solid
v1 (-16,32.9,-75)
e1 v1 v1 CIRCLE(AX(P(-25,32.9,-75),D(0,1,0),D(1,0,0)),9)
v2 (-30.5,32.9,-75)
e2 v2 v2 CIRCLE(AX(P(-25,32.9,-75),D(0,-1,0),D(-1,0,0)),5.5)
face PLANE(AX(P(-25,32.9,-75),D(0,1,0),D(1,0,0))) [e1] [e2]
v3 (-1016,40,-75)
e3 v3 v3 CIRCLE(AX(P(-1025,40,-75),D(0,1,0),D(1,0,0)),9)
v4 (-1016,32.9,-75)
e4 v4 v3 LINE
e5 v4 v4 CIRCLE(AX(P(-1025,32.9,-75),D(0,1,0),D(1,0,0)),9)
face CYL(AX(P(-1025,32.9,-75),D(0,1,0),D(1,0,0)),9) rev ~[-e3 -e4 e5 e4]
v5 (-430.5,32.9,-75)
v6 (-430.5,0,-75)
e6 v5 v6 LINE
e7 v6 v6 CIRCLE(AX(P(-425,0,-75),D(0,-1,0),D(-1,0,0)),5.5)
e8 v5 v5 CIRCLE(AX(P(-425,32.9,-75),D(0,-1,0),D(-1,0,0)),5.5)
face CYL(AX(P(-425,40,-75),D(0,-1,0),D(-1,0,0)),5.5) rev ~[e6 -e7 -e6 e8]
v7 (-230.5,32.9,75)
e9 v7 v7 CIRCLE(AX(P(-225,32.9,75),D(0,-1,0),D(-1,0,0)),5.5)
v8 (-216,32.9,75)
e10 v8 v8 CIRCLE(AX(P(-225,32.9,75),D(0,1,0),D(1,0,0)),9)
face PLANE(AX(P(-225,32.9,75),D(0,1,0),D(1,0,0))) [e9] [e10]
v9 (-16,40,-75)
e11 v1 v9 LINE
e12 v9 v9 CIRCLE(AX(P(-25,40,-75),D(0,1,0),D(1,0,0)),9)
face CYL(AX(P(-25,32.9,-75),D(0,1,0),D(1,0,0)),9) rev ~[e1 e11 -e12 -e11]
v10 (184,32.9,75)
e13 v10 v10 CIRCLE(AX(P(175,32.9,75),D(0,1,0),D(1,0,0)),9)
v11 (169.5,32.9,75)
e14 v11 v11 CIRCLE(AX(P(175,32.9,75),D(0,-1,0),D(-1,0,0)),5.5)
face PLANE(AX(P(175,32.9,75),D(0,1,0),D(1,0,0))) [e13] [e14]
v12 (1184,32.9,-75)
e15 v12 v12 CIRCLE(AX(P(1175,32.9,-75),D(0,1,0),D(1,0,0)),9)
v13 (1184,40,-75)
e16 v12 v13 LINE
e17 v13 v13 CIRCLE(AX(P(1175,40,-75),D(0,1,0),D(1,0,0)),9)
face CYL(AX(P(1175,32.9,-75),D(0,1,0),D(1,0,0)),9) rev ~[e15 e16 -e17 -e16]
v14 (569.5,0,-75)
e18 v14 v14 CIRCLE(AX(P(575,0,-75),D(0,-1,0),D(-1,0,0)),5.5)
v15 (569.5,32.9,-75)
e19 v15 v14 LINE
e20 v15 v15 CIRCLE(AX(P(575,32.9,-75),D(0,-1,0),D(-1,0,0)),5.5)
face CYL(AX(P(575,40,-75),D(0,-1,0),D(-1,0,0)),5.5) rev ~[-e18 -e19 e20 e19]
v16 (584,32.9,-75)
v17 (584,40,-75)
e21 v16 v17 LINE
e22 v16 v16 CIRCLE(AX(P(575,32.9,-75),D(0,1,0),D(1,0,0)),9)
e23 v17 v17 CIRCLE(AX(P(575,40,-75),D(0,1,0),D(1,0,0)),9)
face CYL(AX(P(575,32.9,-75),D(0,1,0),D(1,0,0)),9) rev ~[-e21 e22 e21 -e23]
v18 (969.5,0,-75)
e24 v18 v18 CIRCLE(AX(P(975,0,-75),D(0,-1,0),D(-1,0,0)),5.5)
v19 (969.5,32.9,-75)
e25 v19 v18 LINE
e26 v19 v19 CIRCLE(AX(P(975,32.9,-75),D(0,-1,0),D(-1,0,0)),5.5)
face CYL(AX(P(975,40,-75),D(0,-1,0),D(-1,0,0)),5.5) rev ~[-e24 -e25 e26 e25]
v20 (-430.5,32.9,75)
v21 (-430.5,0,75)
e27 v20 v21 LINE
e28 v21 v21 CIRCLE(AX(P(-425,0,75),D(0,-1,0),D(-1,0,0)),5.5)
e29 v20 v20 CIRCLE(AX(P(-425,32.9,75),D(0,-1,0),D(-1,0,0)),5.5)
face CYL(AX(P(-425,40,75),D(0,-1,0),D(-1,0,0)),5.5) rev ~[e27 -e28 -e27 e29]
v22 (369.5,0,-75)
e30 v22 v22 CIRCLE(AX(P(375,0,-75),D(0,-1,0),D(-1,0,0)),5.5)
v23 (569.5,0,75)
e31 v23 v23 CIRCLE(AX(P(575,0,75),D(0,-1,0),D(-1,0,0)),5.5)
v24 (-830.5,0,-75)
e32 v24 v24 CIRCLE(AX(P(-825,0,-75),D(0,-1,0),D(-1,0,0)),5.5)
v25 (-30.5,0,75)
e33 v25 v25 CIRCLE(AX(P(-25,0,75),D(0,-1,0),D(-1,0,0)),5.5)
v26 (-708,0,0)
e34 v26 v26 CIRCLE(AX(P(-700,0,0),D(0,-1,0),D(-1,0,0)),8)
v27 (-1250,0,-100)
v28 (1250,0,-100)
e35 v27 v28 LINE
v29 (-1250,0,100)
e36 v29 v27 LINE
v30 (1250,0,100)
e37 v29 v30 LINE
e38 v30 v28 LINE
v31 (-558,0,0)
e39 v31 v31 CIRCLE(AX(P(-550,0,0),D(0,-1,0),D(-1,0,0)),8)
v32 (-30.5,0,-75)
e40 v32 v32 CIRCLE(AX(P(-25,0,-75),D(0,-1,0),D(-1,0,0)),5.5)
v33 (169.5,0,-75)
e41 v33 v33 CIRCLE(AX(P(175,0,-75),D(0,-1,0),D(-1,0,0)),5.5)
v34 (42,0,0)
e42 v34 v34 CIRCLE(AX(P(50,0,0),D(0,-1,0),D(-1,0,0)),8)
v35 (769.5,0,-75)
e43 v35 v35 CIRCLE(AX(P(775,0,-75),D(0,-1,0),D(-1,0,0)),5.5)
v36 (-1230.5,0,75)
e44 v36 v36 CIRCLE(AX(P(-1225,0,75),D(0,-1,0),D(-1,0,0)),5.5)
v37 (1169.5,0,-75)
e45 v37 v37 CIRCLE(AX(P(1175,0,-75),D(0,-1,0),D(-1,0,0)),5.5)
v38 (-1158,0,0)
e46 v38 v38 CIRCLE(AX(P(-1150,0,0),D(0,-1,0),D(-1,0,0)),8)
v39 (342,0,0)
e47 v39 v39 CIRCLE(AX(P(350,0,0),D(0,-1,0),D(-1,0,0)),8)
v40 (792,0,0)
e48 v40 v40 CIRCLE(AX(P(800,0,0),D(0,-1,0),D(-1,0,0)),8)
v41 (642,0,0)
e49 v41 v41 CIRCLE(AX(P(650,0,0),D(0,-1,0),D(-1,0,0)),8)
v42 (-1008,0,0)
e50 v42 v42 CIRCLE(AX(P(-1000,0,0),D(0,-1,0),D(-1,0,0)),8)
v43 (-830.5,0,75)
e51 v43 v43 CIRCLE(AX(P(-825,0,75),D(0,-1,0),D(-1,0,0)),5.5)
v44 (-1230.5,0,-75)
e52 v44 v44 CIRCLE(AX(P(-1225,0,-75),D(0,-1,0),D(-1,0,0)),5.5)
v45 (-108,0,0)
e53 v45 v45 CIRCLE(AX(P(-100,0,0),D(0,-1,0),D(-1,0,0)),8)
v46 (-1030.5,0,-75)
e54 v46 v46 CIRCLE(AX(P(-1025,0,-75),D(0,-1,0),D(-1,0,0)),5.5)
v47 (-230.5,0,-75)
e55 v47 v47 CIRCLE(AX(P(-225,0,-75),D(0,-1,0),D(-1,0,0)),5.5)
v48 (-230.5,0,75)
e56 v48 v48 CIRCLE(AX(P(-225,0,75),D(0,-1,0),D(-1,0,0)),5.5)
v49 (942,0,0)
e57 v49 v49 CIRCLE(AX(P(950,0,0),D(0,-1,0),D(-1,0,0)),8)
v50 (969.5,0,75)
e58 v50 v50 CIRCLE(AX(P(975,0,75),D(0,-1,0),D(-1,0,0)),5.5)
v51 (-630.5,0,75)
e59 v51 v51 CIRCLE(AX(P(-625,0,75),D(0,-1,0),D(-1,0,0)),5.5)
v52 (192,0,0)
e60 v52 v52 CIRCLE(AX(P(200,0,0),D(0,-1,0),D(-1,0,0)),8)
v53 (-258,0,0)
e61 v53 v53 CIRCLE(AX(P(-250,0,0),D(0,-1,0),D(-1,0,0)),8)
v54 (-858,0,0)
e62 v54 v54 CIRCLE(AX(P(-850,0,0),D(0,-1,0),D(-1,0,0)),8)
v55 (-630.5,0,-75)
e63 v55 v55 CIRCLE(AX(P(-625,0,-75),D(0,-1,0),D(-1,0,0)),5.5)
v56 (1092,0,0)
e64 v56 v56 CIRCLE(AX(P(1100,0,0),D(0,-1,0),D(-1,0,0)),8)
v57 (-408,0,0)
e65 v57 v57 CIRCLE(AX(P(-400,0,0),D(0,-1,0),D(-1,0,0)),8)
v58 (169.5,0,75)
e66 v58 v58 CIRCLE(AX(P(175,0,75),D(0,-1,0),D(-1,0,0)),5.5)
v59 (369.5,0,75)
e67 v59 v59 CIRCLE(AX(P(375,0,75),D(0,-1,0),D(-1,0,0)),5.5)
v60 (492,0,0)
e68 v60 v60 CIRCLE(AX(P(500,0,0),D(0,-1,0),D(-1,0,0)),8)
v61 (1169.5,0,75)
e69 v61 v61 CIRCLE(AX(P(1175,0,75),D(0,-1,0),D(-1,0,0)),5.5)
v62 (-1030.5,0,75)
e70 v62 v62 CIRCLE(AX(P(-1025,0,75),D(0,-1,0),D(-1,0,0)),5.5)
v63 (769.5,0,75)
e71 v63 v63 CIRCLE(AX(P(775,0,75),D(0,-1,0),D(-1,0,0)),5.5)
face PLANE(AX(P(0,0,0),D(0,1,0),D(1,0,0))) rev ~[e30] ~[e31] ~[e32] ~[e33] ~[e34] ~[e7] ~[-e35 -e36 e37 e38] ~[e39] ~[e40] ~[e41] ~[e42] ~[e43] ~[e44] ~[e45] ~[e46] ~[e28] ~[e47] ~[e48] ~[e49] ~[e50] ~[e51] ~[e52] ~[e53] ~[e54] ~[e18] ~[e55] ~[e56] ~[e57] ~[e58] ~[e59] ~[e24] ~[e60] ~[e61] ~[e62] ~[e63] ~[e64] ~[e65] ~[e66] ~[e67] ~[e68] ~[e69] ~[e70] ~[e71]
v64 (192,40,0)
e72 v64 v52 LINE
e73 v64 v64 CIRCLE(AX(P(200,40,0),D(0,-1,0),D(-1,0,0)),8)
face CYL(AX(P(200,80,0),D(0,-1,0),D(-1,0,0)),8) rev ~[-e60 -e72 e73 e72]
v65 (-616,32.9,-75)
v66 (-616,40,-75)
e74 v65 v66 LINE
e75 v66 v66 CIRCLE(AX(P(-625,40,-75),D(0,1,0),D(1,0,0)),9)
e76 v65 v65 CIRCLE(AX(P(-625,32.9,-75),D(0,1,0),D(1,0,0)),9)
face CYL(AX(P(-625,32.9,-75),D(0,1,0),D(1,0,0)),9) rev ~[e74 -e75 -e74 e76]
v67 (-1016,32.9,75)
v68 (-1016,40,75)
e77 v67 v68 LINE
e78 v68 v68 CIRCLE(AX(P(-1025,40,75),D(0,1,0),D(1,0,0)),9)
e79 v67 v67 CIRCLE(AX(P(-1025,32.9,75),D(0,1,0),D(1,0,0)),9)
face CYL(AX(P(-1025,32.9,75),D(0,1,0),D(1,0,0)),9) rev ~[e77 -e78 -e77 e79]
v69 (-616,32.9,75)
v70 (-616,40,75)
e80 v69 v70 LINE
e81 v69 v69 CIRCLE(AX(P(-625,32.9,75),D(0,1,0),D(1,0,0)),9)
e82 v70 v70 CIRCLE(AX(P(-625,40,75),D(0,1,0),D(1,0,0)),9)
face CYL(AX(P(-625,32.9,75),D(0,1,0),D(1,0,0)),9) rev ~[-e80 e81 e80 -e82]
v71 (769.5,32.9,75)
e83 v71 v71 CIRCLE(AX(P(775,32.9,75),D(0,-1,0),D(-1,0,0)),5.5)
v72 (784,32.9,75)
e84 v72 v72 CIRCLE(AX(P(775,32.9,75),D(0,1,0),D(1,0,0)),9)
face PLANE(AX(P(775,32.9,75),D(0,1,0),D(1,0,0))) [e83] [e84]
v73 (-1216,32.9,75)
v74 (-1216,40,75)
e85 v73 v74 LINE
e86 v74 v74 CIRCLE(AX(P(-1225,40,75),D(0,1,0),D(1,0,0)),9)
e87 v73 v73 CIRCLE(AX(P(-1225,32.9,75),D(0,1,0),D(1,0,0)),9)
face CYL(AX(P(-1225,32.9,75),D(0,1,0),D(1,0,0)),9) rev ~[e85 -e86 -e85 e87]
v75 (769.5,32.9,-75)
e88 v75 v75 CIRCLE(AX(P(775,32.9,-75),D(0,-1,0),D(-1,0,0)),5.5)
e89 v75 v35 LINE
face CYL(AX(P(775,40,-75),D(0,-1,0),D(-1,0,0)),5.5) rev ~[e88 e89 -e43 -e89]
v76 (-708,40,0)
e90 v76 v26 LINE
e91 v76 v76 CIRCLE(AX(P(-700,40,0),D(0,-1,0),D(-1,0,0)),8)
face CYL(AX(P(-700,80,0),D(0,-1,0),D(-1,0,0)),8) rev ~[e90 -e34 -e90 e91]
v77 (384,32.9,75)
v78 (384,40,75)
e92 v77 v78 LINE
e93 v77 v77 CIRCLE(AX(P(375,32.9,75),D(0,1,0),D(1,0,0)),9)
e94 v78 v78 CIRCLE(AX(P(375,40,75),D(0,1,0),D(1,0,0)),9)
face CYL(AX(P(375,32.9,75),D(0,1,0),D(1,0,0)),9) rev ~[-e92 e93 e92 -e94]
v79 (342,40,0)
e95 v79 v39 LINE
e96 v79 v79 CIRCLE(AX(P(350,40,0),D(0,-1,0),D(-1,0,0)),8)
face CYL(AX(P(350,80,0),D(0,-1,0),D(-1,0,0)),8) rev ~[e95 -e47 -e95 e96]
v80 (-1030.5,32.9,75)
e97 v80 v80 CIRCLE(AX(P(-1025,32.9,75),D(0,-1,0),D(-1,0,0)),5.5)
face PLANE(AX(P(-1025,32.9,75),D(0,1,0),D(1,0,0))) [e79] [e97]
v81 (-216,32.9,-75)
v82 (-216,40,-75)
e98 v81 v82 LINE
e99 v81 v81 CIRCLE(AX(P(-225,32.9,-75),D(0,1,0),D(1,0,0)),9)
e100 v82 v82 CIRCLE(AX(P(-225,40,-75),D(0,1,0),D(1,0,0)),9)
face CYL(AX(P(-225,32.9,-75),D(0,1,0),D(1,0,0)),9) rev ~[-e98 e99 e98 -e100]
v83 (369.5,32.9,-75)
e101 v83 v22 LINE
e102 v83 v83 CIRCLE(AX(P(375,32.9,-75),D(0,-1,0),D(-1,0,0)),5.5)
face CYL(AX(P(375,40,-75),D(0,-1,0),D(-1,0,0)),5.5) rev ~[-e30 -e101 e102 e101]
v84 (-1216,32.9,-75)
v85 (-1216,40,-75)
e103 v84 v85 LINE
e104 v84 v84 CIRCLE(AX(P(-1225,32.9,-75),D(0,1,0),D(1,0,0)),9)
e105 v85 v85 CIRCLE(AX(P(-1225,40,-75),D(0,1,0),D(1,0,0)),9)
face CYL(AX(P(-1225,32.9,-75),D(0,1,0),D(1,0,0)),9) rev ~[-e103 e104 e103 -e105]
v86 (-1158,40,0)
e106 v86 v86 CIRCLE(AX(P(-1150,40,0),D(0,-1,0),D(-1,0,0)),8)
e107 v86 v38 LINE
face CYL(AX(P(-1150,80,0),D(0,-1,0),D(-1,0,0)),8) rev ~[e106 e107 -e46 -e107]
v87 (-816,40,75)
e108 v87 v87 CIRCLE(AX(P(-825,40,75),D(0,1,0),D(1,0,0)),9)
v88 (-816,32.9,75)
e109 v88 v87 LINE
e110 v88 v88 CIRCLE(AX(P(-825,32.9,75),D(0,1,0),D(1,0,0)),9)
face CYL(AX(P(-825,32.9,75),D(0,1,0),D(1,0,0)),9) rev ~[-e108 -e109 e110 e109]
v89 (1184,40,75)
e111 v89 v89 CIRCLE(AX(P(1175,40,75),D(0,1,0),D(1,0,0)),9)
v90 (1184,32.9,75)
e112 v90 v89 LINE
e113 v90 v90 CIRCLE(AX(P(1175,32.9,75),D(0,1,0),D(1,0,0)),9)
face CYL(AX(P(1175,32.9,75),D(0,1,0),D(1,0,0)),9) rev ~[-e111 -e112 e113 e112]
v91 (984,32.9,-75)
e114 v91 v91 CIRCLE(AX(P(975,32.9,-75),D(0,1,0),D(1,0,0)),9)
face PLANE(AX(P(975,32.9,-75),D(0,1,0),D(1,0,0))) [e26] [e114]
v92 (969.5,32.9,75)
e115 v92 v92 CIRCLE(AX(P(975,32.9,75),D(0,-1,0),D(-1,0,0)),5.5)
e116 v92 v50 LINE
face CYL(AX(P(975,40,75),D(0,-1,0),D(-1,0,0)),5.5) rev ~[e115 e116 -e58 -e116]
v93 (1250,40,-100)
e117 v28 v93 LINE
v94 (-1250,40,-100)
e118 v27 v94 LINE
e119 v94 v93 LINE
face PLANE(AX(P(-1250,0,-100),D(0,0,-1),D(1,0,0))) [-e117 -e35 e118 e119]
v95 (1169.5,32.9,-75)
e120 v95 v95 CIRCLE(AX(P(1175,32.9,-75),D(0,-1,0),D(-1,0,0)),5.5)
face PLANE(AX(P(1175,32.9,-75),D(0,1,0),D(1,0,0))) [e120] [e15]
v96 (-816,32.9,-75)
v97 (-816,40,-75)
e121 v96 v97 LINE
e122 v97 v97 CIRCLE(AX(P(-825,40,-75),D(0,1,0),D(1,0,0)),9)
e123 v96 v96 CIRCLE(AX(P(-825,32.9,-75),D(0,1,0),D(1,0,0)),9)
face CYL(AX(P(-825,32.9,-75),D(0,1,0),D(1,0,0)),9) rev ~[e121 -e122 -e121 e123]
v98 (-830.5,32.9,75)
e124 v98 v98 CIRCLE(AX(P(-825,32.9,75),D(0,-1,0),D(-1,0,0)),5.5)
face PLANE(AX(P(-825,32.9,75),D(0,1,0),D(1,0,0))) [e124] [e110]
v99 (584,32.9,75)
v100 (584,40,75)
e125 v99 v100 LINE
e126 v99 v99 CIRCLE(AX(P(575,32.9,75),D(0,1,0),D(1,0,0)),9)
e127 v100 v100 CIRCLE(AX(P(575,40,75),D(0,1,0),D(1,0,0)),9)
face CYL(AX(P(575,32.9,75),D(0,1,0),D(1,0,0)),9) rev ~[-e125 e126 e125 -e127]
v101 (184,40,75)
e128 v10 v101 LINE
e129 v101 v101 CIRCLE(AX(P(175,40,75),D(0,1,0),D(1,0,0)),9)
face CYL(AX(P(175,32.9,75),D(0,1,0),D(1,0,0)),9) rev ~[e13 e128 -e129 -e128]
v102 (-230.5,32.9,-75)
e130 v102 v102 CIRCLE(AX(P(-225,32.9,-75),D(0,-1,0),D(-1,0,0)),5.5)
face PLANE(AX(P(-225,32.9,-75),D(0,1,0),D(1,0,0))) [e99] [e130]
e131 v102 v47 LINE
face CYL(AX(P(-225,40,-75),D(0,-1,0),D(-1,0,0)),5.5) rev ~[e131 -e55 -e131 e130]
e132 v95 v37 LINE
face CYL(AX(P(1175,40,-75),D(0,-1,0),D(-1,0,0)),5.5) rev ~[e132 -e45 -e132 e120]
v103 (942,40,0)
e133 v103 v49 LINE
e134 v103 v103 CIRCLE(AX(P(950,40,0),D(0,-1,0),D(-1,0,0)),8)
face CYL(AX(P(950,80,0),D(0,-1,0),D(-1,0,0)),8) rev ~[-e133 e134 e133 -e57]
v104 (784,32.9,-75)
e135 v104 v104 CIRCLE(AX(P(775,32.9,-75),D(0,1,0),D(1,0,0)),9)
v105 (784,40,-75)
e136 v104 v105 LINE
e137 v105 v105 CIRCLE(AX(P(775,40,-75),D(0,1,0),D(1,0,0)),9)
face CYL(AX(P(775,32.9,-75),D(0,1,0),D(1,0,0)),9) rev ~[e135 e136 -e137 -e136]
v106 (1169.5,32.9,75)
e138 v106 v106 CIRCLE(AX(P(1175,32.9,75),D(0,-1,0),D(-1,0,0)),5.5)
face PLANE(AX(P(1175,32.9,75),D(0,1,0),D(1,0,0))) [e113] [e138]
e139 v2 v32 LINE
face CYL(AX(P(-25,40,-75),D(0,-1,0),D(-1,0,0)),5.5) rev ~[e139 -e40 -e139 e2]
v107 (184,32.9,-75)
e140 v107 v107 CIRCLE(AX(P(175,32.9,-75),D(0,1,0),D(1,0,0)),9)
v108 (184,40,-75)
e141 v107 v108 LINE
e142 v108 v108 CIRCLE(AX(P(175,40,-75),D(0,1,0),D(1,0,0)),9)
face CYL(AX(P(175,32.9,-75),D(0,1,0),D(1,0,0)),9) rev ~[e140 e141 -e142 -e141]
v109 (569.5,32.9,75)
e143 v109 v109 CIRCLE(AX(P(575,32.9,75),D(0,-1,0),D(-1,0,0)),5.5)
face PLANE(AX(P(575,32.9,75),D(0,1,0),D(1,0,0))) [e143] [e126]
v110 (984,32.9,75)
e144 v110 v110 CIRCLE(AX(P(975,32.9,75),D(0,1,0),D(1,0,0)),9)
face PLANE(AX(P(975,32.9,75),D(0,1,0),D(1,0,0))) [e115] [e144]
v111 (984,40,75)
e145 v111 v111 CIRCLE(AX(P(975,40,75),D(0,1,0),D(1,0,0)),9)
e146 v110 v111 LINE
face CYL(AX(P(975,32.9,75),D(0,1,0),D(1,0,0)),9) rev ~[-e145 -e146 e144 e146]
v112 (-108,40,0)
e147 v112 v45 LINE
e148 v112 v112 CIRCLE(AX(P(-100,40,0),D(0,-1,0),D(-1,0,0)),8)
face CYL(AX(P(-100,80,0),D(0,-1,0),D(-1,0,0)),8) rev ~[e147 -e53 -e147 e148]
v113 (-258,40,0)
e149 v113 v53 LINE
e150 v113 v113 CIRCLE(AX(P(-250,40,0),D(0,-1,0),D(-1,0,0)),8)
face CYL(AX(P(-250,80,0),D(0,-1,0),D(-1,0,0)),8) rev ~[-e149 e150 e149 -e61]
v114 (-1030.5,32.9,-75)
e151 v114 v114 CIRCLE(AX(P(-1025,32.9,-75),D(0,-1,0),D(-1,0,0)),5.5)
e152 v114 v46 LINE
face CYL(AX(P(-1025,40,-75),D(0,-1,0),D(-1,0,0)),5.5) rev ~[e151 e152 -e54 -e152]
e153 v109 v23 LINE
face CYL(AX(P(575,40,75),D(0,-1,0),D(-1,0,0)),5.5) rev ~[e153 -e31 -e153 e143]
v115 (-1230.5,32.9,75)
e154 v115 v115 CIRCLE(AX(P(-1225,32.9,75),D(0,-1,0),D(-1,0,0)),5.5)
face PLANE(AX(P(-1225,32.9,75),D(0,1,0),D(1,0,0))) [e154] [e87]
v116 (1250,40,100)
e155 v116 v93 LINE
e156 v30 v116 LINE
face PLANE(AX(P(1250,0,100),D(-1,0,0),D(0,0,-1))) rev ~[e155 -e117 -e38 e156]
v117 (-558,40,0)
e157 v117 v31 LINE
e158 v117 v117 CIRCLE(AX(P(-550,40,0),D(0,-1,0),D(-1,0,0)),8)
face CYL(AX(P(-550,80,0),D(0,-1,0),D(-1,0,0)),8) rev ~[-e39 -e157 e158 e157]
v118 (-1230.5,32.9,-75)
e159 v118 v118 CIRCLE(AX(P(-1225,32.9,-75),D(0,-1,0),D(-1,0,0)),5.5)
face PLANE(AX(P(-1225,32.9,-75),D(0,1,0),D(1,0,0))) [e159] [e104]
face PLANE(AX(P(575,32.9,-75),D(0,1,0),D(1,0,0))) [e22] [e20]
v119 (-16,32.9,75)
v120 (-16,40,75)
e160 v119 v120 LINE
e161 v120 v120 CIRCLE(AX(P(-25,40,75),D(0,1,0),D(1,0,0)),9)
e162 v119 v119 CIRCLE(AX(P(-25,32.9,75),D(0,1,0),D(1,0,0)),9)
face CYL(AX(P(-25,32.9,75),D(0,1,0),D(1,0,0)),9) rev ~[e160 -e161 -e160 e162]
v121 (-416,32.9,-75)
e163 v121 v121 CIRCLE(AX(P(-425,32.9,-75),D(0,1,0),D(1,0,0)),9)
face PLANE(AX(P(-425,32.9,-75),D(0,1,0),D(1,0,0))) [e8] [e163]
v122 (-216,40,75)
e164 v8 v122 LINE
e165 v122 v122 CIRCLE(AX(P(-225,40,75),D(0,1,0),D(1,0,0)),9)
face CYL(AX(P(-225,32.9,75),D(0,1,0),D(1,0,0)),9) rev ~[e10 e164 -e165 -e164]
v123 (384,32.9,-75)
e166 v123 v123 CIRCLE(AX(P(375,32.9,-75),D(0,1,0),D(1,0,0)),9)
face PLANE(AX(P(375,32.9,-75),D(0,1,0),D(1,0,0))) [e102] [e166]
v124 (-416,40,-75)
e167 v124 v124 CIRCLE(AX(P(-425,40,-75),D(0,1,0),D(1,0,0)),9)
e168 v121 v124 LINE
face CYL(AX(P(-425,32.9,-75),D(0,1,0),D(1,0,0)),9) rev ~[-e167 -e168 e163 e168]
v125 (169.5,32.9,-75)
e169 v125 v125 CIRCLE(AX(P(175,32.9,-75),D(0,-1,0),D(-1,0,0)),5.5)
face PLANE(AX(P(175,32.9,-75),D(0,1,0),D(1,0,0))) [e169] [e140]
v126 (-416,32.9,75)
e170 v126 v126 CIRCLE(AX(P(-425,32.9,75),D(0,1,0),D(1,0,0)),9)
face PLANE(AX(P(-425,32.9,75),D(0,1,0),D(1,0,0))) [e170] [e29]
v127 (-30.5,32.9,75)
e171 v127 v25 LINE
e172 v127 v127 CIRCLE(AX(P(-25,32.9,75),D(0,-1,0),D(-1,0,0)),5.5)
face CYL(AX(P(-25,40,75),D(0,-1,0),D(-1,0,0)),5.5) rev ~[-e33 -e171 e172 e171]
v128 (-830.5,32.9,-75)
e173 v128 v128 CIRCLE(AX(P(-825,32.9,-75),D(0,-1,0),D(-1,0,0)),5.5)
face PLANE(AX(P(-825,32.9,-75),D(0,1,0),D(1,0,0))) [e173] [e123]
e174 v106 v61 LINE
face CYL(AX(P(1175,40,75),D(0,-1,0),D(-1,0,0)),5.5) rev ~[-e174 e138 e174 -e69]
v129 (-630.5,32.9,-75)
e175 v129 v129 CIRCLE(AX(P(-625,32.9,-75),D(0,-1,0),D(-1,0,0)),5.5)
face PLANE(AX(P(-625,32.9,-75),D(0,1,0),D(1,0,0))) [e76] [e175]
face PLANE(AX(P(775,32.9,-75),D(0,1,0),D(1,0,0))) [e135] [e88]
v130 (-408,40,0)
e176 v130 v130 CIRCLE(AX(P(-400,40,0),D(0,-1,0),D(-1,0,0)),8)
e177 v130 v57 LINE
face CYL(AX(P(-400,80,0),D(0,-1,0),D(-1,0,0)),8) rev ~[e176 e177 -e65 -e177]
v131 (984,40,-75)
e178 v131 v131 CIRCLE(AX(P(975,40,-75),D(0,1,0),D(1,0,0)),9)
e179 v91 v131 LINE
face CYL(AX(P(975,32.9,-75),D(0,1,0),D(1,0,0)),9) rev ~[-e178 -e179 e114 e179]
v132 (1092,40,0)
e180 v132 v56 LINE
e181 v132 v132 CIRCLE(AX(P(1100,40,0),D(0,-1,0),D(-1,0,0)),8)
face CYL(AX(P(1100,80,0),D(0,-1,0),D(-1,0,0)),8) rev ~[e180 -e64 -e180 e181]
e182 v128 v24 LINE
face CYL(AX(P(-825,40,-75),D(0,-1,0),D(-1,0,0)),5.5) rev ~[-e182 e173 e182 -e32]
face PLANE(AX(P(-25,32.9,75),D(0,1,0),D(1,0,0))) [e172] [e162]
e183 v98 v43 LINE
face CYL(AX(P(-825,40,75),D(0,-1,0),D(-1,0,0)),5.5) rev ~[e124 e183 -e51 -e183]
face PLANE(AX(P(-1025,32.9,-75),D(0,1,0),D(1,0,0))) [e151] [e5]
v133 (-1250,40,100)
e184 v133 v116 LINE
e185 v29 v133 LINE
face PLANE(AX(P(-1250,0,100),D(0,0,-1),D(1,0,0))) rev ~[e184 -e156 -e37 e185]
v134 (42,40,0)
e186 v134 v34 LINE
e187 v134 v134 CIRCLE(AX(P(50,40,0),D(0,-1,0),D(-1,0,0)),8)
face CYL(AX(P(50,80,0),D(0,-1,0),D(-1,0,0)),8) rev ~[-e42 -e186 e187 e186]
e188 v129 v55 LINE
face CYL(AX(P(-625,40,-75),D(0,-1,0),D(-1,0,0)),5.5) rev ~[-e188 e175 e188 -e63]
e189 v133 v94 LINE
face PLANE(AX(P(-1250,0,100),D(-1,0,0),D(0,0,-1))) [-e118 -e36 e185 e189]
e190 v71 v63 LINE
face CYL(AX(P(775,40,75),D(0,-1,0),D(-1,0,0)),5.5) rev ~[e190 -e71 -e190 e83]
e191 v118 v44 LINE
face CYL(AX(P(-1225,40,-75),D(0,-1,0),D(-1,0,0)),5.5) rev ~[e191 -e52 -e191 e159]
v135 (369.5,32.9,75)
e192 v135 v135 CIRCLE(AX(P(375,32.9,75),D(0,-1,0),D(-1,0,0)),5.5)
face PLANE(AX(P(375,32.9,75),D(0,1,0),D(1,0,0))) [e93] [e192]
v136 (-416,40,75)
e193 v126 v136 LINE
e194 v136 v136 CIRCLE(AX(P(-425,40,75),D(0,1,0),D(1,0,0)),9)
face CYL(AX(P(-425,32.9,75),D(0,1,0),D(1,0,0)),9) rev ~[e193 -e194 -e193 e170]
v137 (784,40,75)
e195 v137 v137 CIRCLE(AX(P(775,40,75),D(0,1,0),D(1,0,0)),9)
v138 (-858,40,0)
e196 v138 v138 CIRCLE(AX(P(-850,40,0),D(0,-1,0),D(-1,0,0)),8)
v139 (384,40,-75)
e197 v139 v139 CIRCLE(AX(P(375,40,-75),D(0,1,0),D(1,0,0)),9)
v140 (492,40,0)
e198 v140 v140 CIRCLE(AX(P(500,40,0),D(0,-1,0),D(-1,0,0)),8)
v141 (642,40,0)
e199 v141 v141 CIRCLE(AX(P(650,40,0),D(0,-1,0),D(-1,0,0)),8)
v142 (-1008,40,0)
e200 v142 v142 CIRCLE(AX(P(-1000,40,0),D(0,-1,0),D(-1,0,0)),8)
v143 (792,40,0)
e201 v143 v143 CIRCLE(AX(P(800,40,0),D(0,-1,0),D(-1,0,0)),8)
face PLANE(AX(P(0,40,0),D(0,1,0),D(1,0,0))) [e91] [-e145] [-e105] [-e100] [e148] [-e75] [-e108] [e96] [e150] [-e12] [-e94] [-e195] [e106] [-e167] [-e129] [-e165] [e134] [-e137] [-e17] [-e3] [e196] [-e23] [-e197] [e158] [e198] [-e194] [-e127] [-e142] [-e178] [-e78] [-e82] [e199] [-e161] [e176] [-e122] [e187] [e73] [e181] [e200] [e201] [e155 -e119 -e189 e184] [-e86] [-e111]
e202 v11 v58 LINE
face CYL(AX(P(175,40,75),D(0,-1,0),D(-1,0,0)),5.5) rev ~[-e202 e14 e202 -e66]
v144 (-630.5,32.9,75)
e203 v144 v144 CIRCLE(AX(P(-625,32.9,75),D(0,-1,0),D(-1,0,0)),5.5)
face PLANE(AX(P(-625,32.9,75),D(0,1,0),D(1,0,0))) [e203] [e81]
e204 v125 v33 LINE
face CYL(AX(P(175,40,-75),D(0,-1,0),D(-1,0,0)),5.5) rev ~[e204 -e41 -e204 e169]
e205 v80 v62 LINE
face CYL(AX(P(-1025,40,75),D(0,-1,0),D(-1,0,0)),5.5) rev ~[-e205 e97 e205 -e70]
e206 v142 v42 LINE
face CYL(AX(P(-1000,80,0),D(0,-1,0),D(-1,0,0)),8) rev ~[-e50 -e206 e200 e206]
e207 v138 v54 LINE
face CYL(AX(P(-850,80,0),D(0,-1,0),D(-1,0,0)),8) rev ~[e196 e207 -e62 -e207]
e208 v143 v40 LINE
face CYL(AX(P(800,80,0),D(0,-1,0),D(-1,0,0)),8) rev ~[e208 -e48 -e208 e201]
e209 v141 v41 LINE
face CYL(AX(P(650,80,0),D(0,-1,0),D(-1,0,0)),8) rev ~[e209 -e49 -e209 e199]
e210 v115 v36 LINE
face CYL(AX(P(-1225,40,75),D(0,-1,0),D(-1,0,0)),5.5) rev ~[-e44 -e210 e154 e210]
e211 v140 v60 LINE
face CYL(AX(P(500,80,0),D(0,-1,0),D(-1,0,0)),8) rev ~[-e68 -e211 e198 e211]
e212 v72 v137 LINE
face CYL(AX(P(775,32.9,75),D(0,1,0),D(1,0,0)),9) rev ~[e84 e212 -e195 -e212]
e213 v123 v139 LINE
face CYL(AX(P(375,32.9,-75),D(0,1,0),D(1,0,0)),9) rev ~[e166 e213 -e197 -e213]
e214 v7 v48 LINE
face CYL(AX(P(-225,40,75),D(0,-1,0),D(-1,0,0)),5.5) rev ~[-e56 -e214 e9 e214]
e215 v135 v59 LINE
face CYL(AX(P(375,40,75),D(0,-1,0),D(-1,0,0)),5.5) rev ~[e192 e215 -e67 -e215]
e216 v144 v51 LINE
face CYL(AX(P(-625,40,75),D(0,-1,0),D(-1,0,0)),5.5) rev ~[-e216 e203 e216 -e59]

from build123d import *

# Parameters (mm, degrees)
ESBO_O1_W                                            = 2500
ESBO_O1_H                                            = 200
RESSALTO_EXTRUS_O1_DEPTH                             = 40
REBAIXO_PARA_PARAFUSO_ALLEN_SEXTAVADO_DE_D           = 11
REBAIXO_PARA_PARAFUSO_ALLEN_SEXTAVADO_DE_DEPTH       = 40
REBAIXO_PARA_PARAFUSO_ALLEN_SEXTAVADO_DE_CBORE_D     = 18
REBAIXO_PARA_PARAFUSO_ALLEN_SEXTAVADO_DE_CBORE_DEPTH = 7.1
FURO_ROSCADO_DE_M18X2_0_D                            = 16
FURO_ROSCADO_DE_M18X2_0_DEPTH                        = 40


with BuildPart() as part:
    # Esboço1 → Ressalto-extrusão1 (new body)
    with BuildSketch(Plane(origin=(0, 0, 0), x_dir=(1, 0, 0), z_dir=(0, 1, 0))):
        Rectangle(ESBO_O1_W, ESBO_O1_H)
    extrude(amount=RESSALTO_EXTRUS_O1_DEPTH)

    # Rebaixo para parafuso Allen sextavado de M101
    with Locations(Plane(origin=(0, 40, 0), x_dir=(1, 0, 0), z_dir=(0, 1, 0))):
        with Locations((-1225, 75), (-1025, 75), (-825, 75), (-625, 75), (-425, 75), (-225, 75), (-25, 75), (175, 75), (375, 75), (575, 75), (-1025, -75), (-825, -75), (-625, -75), (-425, -75), (-225, -75), (-25, -75), (175, -75), (375, -75), (575, -75), (-1225, -75), (775, 75), (775, -75), (975, 75), (1175, 75), (975, -75), (1175, -75)):
            CounterBoreHole(REBAIXO_PARA_PARAFUSO_ALLEN_SEXTAVADO_DE_D / 2, REBAIXO_PARA_PARAFUSO_ALLEN_SEXTAVADO_DE_CBORE_D / 2, REBAIXO_PARA_PARAFUSO_ALLEN_SEXTAVADO_DE_CBORE_DEPTH, depth=REBAIXO_PARA_PARAFUSO_ALLEN_SEXTAVADO_DE_DEPTH)

    # Furo roscado de M18x2.0
    with Locations(Plane(origin=(0, 40, 0), x_dir=(1, 0, 0), z_dir=(0, 1, 0))):
        with Locations((-1150, 0), (-1000, 0), (-850, 0), (-700, 0), (-550, 0), (-400, 0), (-250, 0), (-100, 0), (50, 0), (200, 0), (350, 0), (500, 0), (650, 0), (800, 0), (950, 0), (1100, 0)):
            Hole(FURO_ROSCADO_DE_M18X2_0_D / 2, depth=FURO_ROSCADO_DE_M18X2_0_DEPTH)


solid = part.part
